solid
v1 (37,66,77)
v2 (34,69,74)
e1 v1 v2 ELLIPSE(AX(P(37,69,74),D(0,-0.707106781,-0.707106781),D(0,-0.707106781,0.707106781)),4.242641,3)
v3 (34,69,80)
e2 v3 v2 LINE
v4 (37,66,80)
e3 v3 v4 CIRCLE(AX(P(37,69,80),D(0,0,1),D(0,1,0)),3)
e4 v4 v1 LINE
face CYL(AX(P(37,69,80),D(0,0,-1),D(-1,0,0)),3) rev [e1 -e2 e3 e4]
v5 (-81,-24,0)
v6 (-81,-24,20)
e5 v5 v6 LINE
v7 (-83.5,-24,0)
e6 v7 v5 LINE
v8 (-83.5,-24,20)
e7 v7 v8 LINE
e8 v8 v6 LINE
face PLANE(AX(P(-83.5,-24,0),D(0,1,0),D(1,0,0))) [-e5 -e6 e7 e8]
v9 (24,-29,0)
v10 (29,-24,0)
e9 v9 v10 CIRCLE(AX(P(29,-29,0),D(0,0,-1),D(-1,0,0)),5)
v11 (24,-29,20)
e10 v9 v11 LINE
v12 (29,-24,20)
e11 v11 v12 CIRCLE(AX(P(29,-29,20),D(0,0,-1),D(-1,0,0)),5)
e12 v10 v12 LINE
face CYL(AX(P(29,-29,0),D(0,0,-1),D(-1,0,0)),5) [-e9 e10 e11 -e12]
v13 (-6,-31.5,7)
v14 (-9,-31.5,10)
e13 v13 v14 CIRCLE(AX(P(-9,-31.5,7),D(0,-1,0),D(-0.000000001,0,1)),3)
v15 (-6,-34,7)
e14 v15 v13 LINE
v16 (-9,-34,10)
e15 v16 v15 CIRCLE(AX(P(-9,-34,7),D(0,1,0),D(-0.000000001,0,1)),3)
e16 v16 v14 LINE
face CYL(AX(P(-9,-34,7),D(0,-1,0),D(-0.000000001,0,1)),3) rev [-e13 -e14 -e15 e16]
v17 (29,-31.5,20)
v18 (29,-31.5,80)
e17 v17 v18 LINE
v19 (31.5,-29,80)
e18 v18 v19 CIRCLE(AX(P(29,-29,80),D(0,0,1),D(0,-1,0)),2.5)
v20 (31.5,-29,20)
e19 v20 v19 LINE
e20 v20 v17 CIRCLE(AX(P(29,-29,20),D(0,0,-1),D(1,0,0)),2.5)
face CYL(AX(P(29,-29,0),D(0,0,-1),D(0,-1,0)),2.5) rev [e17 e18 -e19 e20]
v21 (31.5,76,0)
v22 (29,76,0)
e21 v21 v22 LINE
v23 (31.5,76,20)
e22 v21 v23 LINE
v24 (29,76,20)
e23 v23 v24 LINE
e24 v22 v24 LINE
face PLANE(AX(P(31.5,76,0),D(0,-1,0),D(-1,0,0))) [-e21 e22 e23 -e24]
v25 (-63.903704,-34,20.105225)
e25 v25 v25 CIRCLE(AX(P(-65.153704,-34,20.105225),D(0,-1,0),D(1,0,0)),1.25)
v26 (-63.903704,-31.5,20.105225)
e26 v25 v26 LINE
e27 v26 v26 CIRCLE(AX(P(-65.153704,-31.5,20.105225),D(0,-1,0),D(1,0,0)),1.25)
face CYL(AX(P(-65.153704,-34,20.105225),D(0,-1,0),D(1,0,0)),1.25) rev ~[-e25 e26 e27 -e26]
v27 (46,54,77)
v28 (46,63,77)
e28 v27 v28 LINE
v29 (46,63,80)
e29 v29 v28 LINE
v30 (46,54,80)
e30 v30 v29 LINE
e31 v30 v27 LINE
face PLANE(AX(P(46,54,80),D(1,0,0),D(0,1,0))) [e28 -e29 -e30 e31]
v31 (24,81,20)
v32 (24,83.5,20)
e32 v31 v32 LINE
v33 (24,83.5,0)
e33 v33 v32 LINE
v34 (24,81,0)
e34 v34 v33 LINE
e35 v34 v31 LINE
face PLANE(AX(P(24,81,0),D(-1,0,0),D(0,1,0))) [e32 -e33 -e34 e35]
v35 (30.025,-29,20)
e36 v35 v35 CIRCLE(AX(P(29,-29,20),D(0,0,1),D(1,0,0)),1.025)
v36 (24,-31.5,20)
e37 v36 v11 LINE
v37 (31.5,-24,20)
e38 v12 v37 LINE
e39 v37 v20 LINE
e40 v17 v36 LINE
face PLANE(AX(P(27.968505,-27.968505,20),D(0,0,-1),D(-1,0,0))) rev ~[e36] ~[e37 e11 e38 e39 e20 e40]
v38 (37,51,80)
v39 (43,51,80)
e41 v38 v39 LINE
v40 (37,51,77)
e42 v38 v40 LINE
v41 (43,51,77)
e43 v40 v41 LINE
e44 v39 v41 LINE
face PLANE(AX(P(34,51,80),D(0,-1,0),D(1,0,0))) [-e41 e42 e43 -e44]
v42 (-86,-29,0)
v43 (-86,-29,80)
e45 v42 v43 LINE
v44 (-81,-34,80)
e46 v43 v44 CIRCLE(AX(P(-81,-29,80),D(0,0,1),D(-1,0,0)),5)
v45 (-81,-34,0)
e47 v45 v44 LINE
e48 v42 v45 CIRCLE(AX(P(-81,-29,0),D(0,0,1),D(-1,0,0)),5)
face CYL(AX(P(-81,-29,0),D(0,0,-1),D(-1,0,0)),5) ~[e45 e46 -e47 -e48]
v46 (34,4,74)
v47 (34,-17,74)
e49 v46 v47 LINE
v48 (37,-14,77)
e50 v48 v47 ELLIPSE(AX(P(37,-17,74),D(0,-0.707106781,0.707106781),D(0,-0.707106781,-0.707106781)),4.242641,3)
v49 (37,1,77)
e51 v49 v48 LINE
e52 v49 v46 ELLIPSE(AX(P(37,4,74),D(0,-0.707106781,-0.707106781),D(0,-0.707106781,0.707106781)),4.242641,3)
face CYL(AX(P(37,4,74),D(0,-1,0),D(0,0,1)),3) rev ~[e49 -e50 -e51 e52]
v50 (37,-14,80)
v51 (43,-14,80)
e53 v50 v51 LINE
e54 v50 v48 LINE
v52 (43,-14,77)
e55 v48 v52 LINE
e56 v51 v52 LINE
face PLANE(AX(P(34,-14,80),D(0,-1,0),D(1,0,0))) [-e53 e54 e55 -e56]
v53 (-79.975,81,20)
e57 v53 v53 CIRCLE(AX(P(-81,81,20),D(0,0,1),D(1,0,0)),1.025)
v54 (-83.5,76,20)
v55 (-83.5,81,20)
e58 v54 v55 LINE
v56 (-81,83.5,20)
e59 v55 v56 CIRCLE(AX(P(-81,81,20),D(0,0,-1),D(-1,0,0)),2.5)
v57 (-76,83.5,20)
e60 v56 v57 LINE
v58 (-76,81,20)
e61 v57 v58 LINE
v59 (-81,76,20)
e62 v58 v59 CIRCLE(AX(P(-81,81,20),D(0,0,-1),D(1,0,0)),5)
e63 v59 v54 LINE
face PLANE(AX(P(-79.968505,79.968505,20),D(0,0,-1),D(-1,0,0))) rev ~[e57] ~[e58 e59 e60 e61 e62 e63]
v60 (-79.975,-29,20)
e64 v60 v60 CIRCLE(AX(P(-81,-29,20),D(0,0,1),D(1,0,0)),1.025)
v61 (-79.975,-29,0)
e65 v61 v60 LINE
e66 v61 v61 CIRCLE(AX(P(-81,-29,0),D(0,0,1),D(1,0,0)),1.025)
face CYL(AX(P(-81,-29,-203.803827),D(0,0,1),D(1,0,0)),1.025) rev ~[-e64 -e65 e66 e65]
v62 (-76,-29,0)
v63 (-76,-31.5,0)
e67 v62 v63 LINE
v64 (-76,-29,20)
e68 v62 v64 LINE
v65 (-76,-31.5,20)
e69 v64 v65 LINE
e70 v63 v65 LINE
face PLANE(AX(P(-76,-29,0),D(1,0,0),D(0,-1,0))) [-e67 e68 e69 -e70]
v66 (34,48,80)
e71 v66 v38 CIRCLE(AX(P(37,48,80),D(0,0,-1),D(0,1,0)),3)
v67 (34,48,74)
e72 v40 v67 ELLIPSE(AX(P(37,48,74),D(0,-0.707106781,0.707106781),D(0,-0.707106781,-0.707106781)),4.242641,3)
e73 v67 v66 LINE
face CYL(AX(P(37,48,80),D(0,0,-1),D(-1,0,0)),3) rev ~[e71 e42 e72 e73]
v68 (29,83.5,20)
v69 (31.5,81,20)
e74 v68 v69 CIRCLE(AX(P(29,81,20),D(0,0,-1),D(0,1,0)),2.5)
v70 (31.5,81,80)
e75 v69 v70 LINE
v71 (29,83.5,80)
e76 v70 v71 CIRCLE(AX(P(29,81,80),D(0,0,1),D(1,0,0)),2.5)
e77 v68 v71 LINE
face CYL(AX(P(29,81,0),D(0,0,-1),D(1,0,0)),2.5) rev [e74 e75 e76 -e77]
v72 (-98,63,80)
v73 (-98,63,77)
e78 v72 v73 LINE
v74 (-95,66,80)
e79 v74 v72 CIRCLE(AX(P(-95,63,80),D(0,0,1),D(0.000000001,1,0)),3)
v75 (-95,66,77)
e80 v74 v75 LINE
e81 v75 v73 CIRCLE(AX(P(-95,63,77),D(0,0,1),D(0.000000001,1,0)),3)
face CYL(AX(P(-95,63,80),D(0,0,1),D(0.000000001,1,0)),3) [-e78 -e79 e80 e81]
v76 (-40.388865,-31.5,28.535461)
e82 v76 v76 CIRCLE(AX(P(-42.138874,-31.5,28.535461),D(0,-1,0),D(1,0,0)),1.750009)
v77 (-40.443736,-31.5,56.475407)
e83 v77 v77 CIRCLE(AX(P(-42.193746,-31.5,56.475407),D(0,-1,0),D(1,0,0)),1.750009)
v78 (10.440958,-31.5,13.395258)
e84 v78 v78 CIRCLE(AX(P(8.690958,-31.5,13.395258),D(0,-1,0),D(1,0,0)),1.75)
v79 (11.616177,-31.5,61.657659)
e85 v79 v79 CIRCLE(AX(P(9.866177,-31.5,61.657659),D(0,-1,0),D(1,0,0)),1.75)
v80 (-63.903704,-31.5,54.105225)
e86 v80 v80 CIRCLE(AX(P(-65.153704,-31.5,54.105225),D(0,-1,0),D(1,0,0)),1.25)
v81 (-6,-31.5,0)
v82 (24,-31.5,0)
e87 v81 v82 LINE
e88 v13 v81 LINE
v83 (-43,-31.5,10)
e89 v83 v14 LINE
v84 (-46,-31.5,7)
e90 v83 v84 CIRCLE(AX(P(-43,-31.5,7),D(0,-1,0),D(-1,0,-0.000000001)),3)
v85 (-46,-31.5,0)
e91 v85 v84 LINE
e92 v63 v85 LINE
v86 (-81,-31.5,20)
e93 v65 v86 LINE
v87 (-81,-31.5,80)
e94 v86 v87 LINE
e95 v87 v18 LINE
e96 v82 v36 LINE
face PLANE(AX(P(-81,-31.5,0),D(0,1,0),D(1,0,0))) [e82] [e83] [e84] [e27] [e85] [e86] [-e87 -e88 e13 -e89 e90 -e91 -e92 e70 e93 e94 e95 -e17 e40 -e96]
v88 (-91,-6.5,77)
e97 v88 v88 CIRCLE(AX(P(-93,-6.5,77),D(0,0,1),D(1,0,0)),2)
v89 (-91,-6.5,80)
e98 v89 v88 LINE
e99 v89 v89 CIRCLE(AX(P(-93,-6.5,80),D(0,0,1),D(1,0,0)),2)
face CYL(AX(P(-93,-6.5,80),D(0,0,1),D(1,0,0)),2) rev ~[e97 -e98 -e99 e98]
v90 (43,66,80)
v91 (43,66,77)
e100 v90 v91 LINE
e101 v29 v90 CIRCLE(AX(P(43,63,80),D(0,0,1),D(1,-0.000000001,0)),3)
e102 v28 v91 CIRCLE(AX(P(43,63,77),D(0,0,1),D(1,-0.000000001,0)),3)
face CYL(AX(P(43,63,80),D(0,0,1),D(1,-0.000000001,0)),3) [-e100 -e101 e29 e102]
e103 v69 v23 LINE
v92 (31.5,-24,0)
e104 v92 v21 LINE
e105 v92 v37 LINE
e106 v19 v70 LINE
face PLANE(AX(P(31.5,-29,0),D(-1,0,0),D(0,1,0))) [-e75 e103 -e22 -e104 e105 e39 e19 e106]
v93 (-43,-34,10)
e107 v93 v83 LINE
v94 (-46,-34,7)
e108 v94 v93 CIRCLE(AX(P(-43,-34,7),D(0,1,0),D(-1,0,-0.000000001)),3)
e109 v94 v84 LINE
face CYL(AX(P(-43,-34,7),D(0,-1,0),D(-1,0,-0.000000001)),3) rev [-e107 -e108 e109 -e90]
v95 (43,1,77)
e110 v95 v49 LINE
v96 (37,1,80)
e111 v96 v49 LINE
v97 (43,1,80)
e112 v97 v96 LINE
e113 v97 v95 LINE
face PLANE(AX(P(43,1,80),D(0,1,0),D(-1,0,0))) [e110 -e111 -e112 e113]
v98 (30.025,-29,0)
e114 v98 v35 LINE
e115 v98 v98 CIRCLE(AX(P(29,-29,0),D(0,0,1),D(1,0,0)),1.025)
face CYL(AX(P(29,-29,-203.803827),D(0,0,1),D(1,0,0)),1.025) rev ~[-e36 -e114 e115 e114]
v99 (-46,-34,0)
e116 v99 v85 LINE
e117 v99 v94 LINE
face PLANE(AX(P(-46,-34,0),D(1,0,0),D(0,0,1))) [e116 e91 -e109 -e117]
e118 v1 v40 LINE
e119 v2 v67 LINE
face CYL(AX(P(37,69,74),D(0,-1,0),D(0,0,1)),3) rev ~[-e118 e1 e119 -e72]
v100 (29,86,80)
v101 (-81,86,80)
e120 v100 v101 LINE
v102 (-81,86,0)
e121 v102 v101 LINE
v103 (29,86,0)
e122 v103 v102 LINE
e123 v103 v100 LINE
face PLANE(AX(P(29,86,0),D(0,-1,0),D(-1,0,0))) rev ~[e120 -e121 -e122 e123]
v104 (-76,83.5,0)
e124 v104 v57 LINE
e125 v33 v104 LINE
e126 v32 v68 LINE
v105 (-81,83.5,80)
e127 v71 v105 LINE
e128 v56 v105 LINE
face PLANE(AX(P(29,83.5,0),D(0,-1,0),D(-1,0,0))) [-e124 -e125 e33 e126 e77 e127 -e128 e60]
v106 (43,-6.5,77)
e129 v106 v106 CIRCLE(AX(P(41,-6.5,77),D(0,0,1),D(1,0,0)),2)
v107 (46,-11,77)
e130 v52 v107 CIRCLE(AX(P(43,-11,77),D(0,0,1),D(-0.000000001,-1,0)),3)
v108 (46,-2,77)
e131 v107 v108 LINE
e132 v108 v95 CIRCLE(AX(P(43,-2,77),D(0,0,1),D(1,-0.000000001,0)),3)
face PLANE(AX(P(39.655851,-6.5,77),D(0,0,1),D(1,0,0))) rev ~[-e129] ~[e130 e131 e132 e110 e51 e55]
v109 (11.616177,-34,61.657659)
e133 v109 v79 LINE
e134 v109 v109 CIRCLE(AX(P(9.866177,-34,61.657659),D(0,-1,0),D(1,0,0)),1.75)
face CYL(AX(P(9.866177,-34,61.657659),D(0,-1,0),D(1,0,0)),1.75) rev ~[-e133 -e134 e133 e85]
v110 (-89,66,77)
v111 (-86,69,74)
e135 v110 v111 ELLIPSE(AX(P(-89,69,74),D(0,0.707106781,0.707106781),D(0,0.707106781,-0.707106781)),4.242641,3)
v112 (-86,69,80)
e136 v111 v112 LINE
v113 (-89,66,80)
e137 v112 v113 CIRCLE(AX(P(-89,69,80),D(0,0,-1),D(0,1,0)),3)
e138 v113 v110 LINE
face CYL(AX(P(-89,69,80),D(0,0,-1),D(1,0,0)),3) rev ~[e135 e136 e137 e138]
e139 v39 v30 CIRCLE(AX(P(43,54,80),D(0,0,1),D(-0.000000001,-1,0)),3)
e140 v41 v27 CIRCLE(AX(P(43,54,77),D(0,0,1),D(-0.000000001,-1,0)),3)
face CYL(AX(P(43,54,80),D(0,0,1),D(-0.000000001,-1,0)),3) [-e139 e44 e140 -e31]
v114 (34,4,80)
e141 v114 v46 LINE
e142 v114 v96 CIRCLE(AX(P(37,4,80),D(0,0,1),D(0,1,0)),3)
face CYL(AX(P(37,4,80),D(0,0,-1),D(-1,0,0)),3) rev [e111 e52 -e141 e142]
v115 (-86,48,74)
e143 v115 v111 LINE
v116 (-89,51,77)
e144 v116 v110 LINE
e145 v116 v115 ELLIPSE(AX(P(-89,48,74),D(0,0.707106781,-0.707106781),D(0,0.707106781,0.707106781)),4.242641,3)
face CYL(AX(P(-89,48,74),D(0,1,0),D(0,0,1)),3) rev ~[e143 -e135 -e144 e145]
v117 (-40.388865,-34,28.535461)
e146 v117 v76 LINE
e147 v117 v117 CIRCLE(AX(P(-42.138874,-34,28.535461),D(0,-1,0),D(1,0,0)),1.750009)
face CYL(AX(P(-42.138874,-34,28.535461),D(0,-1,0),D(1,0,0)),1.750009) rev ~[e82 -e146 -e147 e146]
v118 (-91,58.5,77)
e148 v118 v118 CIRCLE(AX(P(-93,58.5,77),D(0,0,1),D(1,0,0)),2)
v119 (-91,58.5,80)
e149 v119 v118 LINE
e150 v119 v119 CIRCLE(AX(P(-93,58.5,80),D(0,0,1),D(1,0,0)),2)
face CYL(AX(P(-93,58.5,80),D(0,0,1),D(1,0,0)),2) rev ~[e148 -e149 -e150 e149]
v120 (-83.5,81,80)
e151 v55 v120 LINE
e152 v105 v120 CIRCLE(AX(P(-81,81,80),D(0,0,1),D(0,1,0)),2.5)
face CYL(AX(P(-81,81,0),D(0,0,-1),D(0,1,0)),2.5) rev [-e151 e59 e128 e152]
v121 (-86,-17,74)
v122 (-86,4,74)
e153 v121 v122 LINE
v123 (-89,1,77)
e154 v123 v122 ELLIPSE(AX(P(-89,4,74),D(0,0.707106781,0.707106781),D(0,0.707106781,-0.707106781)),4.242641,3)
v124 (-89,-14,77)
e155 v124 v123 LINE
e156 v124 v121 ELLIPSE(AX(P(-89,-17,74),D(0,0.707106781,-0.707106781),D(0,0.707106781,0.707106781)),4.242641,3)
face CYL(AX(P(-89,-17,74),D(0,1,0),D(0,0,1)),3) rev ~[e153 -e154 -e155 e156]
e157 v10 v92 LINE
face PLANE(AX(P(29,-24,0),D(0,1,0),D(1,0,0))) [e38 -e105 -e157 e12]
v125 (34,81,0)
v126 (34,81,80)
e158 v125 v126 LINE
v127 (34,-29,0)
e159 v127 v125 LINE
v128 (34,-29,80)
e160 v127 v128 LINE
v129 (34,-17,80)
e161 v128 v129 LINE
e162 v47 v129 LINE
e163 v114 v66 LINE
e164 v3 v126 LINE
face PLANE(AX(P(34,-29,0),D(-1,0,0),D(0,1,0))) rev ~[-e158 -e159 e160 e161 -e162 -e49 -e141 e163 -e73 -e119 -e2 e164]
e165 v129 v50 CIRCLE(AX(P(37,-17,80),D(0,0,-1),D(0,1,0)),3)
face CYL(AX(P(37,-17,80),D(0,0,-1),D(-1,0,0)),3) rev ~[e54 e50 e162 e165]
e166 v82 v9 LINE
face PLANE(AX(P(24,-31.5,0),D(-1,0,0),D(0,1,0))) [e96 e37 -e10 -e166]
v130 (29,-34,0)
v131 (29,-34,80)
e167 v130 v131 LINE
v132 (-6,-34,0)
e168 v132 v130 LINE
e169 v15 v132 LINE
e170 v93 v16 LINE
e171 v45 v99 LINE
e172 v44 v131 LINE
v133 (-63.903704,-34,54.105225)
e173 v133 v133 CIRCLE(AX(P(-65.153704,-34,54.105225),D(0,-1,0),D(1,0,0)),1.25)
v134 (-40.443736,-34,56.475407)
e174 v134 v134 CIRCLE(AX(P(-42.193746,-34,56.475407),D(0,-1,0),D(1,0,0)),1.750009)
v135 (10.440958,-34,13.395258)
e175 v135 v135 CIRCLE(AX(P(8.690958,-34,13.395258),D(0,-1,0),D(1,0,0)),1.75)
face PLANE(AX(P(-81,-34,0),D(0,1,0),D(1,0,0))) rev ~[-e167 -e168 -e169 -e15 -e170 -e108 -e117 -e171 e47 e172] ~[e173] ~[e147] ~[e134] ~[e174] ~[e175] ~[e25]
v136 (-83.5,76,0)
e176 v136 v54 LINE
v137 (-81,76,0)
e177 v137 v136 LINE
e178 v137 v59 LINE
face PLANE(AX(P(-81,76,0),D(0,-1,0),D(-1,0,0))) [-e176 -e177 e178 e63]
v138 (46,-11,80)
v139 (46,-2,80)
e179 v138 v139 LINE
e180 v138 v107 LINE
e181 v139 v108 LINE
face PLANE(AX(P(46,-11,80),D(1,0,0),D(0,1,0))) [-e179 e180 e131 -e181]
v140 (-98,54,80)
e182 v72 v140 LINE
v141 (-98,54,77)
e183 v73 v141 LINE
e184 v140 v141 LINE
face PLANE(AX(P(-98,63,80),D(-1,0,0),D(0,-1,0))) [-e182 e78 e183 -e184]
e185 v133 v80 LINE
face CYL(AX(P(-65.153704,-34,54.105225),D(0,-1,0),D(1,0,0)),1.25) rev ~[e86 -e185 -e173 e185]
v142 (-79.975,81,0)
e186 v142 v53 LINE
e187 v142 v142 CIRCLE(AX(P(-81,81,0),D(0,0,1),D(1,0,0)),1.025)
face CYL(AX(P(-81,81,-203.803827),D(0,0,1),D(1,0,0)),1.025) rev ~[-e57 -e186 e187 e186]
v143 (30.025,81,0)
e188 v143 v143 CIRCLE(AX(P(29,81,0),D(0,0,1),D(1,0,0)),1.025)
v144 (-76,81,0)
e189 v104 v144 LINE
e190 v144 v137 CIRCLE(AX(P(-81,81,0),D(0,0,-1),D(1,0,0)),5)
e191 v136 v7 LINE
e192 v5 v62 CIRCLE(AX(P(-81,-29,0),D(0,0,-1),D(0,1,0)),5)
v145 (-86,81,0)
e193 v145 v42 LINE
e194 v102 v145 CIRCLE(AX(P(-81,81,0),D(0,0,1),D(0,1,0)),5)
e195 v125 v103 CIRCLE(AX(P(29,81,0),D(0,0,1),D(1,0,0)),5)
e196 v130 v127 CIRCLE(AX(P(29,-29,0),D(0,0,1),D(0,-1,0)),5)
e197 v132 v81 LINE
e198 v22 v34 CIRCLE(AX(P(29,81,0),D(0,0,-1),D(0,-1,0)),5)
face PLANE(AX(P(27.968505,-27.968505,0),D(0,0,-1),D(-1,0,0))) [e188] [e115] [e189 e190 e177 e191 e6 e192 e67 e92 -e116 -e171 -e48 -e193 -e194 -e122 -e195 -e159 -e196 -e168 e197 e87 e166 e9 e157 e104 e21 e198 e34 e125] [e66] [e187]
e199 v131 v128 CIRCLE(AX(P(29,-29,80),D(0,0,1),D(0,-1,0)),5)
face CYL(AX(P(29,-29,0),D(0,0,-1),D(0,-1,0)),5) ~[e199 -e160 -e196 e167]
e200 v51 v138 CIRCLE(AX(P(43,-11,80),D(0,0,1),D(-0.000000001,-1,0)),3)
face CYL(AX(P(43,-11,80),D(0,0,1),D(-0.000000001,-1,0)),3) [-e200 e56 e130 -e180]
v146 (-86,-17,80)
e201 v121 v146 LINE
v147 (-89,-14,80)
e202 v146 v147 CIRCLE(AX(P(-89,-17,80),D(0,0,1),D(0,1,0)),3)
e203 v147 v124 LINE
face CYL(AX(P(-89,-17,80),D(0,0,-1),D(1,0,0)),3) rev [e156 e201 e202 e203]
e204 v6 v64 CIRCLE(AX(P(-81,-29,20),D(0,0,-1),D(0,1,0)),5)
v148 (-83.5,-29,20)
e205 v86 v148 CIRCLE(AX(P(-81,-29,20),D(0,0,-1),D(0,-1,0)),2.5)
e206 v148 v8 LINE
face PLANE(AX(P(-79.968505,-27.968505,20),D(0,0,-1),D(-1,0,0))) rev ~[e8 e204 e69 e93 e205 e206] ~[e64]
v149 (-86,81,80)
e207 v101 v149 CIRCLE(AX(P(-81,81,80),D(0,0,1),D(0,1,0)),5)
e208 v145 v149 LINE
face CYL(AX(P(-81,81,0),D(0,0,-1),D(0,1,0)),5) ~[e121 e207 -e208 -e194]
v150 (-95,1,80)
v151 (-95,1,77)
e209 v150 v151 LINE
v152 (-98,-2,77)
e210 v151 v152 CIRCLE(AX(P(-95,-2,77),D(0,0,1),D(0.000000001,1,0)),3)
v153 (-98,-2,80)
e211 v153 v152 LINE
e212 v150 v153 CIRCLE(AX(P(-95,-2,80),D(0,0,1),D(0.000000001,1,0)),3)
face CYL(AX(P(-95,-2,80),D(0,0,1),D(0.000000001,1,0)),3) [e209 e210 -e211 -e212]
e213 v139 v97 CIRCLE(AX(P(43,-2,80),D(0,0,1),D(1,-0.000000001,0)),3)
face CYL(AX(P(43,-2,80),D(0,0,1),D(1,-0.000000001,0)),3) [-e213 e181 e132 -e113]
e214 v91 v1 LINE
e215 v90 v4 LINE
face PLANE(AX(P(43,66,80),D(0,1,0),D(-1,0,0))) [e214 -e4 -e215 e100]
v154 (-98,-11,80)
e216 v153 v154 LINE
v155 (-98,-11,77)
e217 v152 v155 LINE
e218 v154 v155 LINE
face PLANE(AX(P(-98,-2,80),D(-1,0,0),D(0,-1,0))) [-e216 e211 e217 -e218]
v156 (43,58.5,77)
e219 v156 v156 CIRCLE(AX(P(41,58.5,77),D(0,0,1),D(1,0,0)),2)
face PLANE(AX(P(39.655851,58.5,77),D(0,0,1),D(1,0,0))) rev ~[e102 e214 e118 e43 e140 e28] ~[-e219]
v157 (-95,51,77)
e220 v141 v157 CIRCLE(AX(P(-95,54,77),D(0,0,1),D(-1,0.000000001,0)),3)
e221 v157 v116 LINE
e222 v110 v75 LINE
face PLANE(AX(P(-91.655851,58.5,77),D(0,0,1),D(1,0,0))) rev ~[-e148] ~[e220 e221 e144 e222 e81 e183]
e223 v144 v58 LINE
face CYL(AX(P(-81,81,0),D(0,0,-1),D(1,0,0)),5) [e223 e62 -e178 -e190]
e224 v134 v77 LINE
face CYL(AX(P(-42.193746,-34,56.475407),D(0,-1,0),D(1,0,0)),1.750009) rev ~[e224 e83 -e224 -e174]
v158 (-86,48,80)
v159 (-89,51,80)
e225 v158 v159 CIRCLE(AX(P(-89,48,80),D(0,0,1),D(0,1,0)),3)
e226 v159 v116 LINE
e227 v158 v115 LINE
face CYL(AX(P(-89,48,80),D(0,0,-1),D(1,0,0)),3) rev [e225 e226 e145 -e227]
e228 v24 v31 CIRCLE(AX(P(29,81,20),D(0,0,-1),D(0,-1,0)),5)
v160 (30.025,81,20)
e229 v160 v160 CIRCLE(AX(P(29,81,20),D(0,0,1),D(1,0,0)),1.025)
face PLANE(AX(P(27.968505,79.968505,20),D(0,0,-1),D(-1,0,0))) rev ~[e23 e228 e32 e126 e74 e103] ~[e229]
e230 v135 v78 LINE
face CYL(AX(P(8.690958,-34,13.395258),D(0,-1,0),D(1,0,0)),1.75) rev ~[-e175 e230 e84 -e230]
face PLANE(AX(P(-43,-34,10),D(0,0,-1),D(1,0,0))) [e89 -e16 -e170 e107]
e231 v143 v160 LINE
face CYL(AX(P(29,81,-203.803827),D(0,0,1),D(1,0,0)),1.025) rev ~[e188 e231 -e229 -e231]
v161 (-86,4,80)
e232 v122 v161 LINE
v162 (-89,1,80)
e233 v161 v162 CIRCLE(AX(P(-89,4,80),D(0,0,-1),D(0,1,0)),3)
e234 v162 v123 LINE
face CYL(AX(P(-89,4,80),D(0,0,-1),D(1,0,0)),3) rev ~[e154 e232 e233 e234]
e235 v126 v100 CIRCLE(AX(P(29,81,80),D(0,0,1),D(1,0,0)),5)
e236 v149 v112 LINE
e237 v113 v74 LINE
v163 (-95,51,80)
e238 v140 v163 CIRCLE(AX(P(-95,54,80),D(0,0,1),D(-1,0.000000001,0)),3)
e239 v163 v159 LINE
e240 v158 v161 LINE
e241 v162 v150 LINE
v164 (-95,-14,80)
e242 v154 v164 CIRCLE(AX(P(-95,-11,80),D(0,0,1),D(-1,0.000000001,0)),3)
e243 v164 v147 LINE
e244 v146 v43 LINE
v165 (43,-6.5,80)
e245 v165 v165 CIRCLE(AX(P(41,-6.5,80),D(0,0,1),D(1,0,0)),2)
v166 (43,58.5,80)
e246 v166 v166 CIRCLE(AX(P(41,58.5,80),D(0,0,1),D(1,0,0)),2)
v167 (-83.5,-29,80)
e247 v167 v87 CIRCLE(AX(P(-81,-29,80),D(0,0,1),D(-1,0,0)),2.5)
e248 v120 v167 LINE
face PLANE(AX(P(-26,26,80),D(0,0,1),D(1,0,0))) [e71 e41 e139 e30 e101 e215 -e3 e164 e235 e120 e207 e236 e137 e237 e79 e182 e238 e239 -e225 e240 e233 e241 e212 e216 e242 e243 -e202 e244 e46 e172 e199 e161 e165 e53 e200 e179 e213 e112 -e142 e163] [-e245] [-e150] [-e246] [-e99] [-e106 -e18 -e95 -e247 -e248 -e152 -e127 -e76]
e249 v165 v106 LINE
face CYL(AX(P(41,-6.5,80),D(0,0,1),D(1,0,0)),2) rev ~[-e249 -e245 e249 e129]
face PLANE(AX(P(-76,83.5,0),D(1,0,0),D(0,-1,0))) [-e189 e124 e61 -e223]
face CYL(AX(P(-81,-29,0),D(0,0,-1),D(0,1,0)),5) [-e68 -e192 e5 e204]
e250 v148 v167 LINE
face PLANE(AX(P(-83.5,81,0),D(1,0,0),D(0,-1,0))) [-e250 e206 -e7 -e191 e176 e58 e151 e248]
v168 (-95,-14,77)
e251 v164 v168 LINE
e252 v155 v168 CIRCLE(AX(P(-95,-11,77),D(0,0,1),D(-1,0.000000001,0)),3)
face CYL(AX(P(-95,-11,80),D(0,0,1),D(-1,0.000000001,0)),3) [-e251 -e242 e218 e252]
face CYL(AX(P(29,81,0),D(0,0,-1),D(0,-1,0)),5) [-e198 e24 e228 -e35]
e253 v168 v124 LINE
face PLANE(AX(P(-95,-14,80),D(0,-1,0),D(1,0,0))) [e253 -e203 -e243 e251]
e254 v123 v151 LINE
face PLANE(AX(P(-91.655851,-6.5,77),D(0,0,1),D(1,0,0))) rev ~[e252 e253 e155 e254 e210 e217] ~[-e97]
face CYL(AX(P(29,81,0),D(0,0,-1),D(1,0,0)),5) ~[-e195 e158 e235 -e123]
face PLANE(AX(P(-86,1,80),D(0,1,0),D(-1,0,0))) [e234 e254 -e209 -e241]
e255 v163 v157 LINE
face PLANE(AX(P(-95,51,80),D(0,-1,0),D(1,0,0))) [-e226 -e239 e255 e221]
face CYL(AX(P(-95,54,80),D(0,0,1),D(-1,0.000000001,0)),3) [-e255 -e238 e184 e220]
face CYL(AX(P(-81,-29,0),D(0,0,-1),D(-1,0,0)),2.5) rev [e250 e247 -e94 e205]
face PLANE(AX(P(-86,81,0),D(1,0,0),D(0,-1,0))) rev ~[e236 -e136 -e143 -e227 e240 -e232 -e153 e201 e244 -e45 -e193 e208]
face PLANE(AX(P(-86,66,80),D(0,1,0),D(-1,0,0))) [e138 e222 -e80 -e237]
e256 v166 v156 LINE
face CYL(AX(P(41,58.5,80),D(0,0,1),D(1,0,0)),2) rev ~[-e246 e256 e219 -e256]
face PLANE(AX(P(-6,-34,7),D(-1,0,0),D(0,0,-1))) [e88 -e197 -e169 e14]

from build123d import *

# Parameters (mm, degrees)
EXTRUDE_THIN1_DEPTH            = 80
BOSS_EXTRUDE2_DEPTH            = 20
SKETCH3_R                      = 1.75
SKETCH3_R_2                    = 1.7500092
SKETCH3_R_3                    = 1.25
CUT_EXTRUDE1_DEPTH             = 10
CUT_EXTRUDE2_REACH             = 122
SKETCH6_R                      = 2
BOSS_EXTRUDE3_DEPTH            = 3
FILLET1_R                      = 3
FILLET2_R                      = 3
TAP_DRILL_FOR_M2_5X0_45_TAP1_D = 2.05


with BuildPart() as part:
    # Sketch1 → Extrude-Thin1 (new body)
    with BuildSketch(Plane.XY):
        with BuildLine():
            Line((29, 86), (-81, 86))
            ThreePointArc((-81, 86), (-84.535533906, 84.535533906), (-86, 81))
            Line((-86, 81), (-86, -29))
            ThreePointArc((-86, -29), (-84.535533906, -32.535533906), (-81, -34))
            Line((-81, -34), (29, -34))
            ThreePointArc((29, -34), (32.535533906, -32.535533906), (34, -29))
            Line((34, -29), (34, 81))
            ThreePointArc((34, 81), (32.535533906, 84.535533906), (29, 86))
        make_face()
        with BuildLine():
            Line((29, 83.5), (-81, 83.5))
            ThreePointArc((-81, 83.5), (-82.767766953, 82.767766953), (-83.5, 81))
            Line((-83.5, 81), (-83.5, -29))
            ThreePointArc((-83.5, -29), (-82.767766953, -30.767766953), (-81, -31.5))
            Line((-81, -31.5), (29, -31.5))
            ThreePointArc((29, -31.5), (30.767766953, -30.767766953), (31.5, -29))
            Line((31.5, -29), (31.5, 81))
            ThreePointArc((31.5, 81), (30.767766953, 82.767766953), (29, 83.5))
        make_face(mode=Mode.SUBTRACT)
    extrude(amount=EXTRUDE_THIN1_DEPTH)

    # Sketch2 → Boss-Extrude2 (add)
    with BuildSketch(Plane.XY):
        with BuildLine():
            Line((29, -24), (31.5, -24))
            Line((31.5, -24), (31.5, -29))
            ThreePointArc((31.5, -29), (30.767766953, -30.767766953), (29, -31.5))
            Line((29, -31.5), (24, -31.5))
            Line((24, -31.5), (24, -29))
            ThreePointArc((24, -29), (25.464466094, -25.464466094), (29, -24))
        make_face()
        with BuildLine():
            Line((-76, -29), (-76, -31.5))
            Line((-76, -31.5), (-81, -31.5))
            ThreePointArc((-81, -31.5), (-82.767766953, -30.767766953), (-83.5, -29))
            Line((-83.5, -29), (-83.5, -24))
            Line((-83.5, -24), (-81, -24))
            ThreePointArc((-81, -24), (-77.464466094, -25.464466094), (-76, -29))
        make_face()
        with BuildLine():
            Line((-81, 76), (-83.5, 76))
            Line((-83.5, 76), (-83.5, 81))
            ThreePointArc((-83.5, 81), (-82.767766953, 82.767766953), (-81, 83.5))
            Line((-81, 83.5), (-76, 83.5))
            Line((-76, 83.5), (-76, 81))
            ThreePointArc((-76, 81), (-77.464466094, 77.464466094), (-81, 76))
        make_face()
        with BuildLine():
            Line((24, 81), (24, 83.5))
            Line((24, 83.5), (29, 83.5))
            ThreePointArc((29, 83.5), (30.767766953, 82.767766953), (31.5, 81))
            Line((31.5, 81), (31.5, 76))
            Line((31.5, 76), (29, 76))
            ThreePointArc((29, 76), (25.464466094, 77.464466094), (24, 81))
        make_face()
    extrude(amount=BOSS_EXTRUDE2_DEPTH)

    # Sketch3 → Cut-Extrude1 (cut)
    with BuildSketch(Plane.XZ.offset(34)):
        with Locations((9.866177282, 61.657658655)):
            Circle(SKETCH3_R)
        with Locations((8.690958198, 13.395257553)):
            Circle(SKETCH3_R)
        with Locations((-42.193745622, 56.475407474)):
            Circle(SKETCH3_R_2)
        with Locations((-42.138873878, 28.535461355)):
            Circle(SKETCH3_R_2)
        with Locations((-65.153703669, 54.105224901)):
            Circle(SKETCH3_R_3)
        with Locations((-65.153703669, 20.105224901)):
            Circle(SKETCH3_R_3)
    extrude(amount=-CUT_EXTRUDE1_DEPTH, mode=Mode.SUBTRACT)

    # Sketch4 → Cut-Extrude2 (cut, up to next)
    with BuildSketch(Plane.XZ.offset(34), mode=Mode.PRIVATE) as cut_extrude2_sk1:
        with BuildLine():
            Line((-6, 0), (-46, 0))
            Line((-46, 0), (-46, 7))
            ThreePointArc((-46, 7), (-45.121320344, 9.121320344), (-43, 10))
            Line((-43, 10), (-9, 10))
            ThreePointArc((-9, 10), (-6.878679656, 9.121320344), (-6, 7))
            Line((-6, 7), (-6, 0))
        make_face()
    cut_extrude2_tool1 = extrude(cut_extrude2_sk1.sketch, amount=-CUT_EXTRUDE2_REACH, mode=Mode.PRIVATE) & part.part
    add(cut_extrude2_tool1.solids().sort_by_distance((-26, -34, 4.957778))[0], mode=Mode.SUBTRACT)

    # Sketch6 → Boss-Extrude3 (add)
    with BuildSketch(Plane.XY.offset(80)):
        with BuildLine():
            Line((-86, -14), (-86, 1))
            Line((-86, 1), (-95, 1))
            ThreePointArc((-95, 1), (-97.121320344, 0.121320344), (-98, -2))
            Line((-98, -2), (-98, -11))
            ThreePointArc((-98, -11), (-97.121320344, -13.121320344), (-95, -14))
            Line((-95, -14), (-86, -14))
        make_face()
        with Locations((-93, -6.5)):
            Circle(SKETCH6_R, mode=Mode.SUBTRACT)
        with BuildLine():
            Line((43, 1), (34, 1))
            Line((34, 1), (34, -14))
            Line((34, -14), (43, -14))
            ThreePointArc((43, -14), (45.121320344, -13.121320344), (46, -11))
            Line((46, -11), (46, -2))
            ThreePointArc((46, -2), (45.121320344, 0.121320344), (43, 1))
        make_face()
        with Locations((41, -6.5)):
            Circle(SKETCH6_R, mode=Mode.SUBTRACT)
        with BuildLine():
            Line((46, 54), (46, 63))
            ThreePointArc((46, 63), (45.121320344, 65.121320344), (43, 66))
            Line((43, 66), (34, 66))
            Line((34, 66), (34, 51))
            Line((34, 51), (43, 51))
            ThreePointArc((43, 51), (45.121320344, 51.878679656), (46, 54))
        make_face()
        with Locations((41, 58.5)):
            Circle(SKETCH6_R, mode=Mode.SUBTRACT)
        with BuildLine():
            Line((-86, 51), (-86, 66))
            Line((-86, 66), (-95, 66))
            ThreePointArc((-95, 66), (-97.121320344, 65.121320344), (-98, 63))
            Line((-98, 63), (-98, 54))
            ThreePointArc((-98, 54), (-97.121320344, 51.878679656), (-95, 51))
            Line((-95, 51), (-86, 51))
        make_face()
        with Locations((-93, 58.5)):
            Circle(SKETCH6_R, mode=Mode.SUBTRACT)
    extrude(amount=-BOSS_EXTRUDE3_DEPTH)

    # Fillet1
    fillet1_edges = [part.edges().sort_by_distance(p)[0] for p in [
        (-86, 1, 78.5),
        (-86, -14, 78.5),
        (34, -14, 78.5),
        (34, 1, 78.5),
        (34, 51, 78.5),
        (34, 66, 78.5),
        (-86, 66, 78.5),
        (-86, 51, 78.5),
    ]]
    fillet(fillet1_edges, radius=FILLET1_R)

    # Fillet2
    fillet2_edges = [part.edges().sort_by_distance(p)[0] for p in [
        (34, 58.5, 77),
        (34, -6.5, 77),
        (-86, 58.5, 77),
        (-86, -6.5, 77),
    ]]
    fillet(fillet2_edges, radius=FILLET2_R)

    # Tap Drill for M2.5x0.45 Tap1 (through all)
    with Locations(Plane(origin=(0, 0, 0), x_dir=(-1, 0, 0), z_dir=(0, 0, -1))):
        with Locations((81, -29), (81, 81), (-29, -29), (-29, 81)):
            Hole(TAP_DRILL_FOR_M2_5X0_45_TAP1_D / 2)


solid = part.part
